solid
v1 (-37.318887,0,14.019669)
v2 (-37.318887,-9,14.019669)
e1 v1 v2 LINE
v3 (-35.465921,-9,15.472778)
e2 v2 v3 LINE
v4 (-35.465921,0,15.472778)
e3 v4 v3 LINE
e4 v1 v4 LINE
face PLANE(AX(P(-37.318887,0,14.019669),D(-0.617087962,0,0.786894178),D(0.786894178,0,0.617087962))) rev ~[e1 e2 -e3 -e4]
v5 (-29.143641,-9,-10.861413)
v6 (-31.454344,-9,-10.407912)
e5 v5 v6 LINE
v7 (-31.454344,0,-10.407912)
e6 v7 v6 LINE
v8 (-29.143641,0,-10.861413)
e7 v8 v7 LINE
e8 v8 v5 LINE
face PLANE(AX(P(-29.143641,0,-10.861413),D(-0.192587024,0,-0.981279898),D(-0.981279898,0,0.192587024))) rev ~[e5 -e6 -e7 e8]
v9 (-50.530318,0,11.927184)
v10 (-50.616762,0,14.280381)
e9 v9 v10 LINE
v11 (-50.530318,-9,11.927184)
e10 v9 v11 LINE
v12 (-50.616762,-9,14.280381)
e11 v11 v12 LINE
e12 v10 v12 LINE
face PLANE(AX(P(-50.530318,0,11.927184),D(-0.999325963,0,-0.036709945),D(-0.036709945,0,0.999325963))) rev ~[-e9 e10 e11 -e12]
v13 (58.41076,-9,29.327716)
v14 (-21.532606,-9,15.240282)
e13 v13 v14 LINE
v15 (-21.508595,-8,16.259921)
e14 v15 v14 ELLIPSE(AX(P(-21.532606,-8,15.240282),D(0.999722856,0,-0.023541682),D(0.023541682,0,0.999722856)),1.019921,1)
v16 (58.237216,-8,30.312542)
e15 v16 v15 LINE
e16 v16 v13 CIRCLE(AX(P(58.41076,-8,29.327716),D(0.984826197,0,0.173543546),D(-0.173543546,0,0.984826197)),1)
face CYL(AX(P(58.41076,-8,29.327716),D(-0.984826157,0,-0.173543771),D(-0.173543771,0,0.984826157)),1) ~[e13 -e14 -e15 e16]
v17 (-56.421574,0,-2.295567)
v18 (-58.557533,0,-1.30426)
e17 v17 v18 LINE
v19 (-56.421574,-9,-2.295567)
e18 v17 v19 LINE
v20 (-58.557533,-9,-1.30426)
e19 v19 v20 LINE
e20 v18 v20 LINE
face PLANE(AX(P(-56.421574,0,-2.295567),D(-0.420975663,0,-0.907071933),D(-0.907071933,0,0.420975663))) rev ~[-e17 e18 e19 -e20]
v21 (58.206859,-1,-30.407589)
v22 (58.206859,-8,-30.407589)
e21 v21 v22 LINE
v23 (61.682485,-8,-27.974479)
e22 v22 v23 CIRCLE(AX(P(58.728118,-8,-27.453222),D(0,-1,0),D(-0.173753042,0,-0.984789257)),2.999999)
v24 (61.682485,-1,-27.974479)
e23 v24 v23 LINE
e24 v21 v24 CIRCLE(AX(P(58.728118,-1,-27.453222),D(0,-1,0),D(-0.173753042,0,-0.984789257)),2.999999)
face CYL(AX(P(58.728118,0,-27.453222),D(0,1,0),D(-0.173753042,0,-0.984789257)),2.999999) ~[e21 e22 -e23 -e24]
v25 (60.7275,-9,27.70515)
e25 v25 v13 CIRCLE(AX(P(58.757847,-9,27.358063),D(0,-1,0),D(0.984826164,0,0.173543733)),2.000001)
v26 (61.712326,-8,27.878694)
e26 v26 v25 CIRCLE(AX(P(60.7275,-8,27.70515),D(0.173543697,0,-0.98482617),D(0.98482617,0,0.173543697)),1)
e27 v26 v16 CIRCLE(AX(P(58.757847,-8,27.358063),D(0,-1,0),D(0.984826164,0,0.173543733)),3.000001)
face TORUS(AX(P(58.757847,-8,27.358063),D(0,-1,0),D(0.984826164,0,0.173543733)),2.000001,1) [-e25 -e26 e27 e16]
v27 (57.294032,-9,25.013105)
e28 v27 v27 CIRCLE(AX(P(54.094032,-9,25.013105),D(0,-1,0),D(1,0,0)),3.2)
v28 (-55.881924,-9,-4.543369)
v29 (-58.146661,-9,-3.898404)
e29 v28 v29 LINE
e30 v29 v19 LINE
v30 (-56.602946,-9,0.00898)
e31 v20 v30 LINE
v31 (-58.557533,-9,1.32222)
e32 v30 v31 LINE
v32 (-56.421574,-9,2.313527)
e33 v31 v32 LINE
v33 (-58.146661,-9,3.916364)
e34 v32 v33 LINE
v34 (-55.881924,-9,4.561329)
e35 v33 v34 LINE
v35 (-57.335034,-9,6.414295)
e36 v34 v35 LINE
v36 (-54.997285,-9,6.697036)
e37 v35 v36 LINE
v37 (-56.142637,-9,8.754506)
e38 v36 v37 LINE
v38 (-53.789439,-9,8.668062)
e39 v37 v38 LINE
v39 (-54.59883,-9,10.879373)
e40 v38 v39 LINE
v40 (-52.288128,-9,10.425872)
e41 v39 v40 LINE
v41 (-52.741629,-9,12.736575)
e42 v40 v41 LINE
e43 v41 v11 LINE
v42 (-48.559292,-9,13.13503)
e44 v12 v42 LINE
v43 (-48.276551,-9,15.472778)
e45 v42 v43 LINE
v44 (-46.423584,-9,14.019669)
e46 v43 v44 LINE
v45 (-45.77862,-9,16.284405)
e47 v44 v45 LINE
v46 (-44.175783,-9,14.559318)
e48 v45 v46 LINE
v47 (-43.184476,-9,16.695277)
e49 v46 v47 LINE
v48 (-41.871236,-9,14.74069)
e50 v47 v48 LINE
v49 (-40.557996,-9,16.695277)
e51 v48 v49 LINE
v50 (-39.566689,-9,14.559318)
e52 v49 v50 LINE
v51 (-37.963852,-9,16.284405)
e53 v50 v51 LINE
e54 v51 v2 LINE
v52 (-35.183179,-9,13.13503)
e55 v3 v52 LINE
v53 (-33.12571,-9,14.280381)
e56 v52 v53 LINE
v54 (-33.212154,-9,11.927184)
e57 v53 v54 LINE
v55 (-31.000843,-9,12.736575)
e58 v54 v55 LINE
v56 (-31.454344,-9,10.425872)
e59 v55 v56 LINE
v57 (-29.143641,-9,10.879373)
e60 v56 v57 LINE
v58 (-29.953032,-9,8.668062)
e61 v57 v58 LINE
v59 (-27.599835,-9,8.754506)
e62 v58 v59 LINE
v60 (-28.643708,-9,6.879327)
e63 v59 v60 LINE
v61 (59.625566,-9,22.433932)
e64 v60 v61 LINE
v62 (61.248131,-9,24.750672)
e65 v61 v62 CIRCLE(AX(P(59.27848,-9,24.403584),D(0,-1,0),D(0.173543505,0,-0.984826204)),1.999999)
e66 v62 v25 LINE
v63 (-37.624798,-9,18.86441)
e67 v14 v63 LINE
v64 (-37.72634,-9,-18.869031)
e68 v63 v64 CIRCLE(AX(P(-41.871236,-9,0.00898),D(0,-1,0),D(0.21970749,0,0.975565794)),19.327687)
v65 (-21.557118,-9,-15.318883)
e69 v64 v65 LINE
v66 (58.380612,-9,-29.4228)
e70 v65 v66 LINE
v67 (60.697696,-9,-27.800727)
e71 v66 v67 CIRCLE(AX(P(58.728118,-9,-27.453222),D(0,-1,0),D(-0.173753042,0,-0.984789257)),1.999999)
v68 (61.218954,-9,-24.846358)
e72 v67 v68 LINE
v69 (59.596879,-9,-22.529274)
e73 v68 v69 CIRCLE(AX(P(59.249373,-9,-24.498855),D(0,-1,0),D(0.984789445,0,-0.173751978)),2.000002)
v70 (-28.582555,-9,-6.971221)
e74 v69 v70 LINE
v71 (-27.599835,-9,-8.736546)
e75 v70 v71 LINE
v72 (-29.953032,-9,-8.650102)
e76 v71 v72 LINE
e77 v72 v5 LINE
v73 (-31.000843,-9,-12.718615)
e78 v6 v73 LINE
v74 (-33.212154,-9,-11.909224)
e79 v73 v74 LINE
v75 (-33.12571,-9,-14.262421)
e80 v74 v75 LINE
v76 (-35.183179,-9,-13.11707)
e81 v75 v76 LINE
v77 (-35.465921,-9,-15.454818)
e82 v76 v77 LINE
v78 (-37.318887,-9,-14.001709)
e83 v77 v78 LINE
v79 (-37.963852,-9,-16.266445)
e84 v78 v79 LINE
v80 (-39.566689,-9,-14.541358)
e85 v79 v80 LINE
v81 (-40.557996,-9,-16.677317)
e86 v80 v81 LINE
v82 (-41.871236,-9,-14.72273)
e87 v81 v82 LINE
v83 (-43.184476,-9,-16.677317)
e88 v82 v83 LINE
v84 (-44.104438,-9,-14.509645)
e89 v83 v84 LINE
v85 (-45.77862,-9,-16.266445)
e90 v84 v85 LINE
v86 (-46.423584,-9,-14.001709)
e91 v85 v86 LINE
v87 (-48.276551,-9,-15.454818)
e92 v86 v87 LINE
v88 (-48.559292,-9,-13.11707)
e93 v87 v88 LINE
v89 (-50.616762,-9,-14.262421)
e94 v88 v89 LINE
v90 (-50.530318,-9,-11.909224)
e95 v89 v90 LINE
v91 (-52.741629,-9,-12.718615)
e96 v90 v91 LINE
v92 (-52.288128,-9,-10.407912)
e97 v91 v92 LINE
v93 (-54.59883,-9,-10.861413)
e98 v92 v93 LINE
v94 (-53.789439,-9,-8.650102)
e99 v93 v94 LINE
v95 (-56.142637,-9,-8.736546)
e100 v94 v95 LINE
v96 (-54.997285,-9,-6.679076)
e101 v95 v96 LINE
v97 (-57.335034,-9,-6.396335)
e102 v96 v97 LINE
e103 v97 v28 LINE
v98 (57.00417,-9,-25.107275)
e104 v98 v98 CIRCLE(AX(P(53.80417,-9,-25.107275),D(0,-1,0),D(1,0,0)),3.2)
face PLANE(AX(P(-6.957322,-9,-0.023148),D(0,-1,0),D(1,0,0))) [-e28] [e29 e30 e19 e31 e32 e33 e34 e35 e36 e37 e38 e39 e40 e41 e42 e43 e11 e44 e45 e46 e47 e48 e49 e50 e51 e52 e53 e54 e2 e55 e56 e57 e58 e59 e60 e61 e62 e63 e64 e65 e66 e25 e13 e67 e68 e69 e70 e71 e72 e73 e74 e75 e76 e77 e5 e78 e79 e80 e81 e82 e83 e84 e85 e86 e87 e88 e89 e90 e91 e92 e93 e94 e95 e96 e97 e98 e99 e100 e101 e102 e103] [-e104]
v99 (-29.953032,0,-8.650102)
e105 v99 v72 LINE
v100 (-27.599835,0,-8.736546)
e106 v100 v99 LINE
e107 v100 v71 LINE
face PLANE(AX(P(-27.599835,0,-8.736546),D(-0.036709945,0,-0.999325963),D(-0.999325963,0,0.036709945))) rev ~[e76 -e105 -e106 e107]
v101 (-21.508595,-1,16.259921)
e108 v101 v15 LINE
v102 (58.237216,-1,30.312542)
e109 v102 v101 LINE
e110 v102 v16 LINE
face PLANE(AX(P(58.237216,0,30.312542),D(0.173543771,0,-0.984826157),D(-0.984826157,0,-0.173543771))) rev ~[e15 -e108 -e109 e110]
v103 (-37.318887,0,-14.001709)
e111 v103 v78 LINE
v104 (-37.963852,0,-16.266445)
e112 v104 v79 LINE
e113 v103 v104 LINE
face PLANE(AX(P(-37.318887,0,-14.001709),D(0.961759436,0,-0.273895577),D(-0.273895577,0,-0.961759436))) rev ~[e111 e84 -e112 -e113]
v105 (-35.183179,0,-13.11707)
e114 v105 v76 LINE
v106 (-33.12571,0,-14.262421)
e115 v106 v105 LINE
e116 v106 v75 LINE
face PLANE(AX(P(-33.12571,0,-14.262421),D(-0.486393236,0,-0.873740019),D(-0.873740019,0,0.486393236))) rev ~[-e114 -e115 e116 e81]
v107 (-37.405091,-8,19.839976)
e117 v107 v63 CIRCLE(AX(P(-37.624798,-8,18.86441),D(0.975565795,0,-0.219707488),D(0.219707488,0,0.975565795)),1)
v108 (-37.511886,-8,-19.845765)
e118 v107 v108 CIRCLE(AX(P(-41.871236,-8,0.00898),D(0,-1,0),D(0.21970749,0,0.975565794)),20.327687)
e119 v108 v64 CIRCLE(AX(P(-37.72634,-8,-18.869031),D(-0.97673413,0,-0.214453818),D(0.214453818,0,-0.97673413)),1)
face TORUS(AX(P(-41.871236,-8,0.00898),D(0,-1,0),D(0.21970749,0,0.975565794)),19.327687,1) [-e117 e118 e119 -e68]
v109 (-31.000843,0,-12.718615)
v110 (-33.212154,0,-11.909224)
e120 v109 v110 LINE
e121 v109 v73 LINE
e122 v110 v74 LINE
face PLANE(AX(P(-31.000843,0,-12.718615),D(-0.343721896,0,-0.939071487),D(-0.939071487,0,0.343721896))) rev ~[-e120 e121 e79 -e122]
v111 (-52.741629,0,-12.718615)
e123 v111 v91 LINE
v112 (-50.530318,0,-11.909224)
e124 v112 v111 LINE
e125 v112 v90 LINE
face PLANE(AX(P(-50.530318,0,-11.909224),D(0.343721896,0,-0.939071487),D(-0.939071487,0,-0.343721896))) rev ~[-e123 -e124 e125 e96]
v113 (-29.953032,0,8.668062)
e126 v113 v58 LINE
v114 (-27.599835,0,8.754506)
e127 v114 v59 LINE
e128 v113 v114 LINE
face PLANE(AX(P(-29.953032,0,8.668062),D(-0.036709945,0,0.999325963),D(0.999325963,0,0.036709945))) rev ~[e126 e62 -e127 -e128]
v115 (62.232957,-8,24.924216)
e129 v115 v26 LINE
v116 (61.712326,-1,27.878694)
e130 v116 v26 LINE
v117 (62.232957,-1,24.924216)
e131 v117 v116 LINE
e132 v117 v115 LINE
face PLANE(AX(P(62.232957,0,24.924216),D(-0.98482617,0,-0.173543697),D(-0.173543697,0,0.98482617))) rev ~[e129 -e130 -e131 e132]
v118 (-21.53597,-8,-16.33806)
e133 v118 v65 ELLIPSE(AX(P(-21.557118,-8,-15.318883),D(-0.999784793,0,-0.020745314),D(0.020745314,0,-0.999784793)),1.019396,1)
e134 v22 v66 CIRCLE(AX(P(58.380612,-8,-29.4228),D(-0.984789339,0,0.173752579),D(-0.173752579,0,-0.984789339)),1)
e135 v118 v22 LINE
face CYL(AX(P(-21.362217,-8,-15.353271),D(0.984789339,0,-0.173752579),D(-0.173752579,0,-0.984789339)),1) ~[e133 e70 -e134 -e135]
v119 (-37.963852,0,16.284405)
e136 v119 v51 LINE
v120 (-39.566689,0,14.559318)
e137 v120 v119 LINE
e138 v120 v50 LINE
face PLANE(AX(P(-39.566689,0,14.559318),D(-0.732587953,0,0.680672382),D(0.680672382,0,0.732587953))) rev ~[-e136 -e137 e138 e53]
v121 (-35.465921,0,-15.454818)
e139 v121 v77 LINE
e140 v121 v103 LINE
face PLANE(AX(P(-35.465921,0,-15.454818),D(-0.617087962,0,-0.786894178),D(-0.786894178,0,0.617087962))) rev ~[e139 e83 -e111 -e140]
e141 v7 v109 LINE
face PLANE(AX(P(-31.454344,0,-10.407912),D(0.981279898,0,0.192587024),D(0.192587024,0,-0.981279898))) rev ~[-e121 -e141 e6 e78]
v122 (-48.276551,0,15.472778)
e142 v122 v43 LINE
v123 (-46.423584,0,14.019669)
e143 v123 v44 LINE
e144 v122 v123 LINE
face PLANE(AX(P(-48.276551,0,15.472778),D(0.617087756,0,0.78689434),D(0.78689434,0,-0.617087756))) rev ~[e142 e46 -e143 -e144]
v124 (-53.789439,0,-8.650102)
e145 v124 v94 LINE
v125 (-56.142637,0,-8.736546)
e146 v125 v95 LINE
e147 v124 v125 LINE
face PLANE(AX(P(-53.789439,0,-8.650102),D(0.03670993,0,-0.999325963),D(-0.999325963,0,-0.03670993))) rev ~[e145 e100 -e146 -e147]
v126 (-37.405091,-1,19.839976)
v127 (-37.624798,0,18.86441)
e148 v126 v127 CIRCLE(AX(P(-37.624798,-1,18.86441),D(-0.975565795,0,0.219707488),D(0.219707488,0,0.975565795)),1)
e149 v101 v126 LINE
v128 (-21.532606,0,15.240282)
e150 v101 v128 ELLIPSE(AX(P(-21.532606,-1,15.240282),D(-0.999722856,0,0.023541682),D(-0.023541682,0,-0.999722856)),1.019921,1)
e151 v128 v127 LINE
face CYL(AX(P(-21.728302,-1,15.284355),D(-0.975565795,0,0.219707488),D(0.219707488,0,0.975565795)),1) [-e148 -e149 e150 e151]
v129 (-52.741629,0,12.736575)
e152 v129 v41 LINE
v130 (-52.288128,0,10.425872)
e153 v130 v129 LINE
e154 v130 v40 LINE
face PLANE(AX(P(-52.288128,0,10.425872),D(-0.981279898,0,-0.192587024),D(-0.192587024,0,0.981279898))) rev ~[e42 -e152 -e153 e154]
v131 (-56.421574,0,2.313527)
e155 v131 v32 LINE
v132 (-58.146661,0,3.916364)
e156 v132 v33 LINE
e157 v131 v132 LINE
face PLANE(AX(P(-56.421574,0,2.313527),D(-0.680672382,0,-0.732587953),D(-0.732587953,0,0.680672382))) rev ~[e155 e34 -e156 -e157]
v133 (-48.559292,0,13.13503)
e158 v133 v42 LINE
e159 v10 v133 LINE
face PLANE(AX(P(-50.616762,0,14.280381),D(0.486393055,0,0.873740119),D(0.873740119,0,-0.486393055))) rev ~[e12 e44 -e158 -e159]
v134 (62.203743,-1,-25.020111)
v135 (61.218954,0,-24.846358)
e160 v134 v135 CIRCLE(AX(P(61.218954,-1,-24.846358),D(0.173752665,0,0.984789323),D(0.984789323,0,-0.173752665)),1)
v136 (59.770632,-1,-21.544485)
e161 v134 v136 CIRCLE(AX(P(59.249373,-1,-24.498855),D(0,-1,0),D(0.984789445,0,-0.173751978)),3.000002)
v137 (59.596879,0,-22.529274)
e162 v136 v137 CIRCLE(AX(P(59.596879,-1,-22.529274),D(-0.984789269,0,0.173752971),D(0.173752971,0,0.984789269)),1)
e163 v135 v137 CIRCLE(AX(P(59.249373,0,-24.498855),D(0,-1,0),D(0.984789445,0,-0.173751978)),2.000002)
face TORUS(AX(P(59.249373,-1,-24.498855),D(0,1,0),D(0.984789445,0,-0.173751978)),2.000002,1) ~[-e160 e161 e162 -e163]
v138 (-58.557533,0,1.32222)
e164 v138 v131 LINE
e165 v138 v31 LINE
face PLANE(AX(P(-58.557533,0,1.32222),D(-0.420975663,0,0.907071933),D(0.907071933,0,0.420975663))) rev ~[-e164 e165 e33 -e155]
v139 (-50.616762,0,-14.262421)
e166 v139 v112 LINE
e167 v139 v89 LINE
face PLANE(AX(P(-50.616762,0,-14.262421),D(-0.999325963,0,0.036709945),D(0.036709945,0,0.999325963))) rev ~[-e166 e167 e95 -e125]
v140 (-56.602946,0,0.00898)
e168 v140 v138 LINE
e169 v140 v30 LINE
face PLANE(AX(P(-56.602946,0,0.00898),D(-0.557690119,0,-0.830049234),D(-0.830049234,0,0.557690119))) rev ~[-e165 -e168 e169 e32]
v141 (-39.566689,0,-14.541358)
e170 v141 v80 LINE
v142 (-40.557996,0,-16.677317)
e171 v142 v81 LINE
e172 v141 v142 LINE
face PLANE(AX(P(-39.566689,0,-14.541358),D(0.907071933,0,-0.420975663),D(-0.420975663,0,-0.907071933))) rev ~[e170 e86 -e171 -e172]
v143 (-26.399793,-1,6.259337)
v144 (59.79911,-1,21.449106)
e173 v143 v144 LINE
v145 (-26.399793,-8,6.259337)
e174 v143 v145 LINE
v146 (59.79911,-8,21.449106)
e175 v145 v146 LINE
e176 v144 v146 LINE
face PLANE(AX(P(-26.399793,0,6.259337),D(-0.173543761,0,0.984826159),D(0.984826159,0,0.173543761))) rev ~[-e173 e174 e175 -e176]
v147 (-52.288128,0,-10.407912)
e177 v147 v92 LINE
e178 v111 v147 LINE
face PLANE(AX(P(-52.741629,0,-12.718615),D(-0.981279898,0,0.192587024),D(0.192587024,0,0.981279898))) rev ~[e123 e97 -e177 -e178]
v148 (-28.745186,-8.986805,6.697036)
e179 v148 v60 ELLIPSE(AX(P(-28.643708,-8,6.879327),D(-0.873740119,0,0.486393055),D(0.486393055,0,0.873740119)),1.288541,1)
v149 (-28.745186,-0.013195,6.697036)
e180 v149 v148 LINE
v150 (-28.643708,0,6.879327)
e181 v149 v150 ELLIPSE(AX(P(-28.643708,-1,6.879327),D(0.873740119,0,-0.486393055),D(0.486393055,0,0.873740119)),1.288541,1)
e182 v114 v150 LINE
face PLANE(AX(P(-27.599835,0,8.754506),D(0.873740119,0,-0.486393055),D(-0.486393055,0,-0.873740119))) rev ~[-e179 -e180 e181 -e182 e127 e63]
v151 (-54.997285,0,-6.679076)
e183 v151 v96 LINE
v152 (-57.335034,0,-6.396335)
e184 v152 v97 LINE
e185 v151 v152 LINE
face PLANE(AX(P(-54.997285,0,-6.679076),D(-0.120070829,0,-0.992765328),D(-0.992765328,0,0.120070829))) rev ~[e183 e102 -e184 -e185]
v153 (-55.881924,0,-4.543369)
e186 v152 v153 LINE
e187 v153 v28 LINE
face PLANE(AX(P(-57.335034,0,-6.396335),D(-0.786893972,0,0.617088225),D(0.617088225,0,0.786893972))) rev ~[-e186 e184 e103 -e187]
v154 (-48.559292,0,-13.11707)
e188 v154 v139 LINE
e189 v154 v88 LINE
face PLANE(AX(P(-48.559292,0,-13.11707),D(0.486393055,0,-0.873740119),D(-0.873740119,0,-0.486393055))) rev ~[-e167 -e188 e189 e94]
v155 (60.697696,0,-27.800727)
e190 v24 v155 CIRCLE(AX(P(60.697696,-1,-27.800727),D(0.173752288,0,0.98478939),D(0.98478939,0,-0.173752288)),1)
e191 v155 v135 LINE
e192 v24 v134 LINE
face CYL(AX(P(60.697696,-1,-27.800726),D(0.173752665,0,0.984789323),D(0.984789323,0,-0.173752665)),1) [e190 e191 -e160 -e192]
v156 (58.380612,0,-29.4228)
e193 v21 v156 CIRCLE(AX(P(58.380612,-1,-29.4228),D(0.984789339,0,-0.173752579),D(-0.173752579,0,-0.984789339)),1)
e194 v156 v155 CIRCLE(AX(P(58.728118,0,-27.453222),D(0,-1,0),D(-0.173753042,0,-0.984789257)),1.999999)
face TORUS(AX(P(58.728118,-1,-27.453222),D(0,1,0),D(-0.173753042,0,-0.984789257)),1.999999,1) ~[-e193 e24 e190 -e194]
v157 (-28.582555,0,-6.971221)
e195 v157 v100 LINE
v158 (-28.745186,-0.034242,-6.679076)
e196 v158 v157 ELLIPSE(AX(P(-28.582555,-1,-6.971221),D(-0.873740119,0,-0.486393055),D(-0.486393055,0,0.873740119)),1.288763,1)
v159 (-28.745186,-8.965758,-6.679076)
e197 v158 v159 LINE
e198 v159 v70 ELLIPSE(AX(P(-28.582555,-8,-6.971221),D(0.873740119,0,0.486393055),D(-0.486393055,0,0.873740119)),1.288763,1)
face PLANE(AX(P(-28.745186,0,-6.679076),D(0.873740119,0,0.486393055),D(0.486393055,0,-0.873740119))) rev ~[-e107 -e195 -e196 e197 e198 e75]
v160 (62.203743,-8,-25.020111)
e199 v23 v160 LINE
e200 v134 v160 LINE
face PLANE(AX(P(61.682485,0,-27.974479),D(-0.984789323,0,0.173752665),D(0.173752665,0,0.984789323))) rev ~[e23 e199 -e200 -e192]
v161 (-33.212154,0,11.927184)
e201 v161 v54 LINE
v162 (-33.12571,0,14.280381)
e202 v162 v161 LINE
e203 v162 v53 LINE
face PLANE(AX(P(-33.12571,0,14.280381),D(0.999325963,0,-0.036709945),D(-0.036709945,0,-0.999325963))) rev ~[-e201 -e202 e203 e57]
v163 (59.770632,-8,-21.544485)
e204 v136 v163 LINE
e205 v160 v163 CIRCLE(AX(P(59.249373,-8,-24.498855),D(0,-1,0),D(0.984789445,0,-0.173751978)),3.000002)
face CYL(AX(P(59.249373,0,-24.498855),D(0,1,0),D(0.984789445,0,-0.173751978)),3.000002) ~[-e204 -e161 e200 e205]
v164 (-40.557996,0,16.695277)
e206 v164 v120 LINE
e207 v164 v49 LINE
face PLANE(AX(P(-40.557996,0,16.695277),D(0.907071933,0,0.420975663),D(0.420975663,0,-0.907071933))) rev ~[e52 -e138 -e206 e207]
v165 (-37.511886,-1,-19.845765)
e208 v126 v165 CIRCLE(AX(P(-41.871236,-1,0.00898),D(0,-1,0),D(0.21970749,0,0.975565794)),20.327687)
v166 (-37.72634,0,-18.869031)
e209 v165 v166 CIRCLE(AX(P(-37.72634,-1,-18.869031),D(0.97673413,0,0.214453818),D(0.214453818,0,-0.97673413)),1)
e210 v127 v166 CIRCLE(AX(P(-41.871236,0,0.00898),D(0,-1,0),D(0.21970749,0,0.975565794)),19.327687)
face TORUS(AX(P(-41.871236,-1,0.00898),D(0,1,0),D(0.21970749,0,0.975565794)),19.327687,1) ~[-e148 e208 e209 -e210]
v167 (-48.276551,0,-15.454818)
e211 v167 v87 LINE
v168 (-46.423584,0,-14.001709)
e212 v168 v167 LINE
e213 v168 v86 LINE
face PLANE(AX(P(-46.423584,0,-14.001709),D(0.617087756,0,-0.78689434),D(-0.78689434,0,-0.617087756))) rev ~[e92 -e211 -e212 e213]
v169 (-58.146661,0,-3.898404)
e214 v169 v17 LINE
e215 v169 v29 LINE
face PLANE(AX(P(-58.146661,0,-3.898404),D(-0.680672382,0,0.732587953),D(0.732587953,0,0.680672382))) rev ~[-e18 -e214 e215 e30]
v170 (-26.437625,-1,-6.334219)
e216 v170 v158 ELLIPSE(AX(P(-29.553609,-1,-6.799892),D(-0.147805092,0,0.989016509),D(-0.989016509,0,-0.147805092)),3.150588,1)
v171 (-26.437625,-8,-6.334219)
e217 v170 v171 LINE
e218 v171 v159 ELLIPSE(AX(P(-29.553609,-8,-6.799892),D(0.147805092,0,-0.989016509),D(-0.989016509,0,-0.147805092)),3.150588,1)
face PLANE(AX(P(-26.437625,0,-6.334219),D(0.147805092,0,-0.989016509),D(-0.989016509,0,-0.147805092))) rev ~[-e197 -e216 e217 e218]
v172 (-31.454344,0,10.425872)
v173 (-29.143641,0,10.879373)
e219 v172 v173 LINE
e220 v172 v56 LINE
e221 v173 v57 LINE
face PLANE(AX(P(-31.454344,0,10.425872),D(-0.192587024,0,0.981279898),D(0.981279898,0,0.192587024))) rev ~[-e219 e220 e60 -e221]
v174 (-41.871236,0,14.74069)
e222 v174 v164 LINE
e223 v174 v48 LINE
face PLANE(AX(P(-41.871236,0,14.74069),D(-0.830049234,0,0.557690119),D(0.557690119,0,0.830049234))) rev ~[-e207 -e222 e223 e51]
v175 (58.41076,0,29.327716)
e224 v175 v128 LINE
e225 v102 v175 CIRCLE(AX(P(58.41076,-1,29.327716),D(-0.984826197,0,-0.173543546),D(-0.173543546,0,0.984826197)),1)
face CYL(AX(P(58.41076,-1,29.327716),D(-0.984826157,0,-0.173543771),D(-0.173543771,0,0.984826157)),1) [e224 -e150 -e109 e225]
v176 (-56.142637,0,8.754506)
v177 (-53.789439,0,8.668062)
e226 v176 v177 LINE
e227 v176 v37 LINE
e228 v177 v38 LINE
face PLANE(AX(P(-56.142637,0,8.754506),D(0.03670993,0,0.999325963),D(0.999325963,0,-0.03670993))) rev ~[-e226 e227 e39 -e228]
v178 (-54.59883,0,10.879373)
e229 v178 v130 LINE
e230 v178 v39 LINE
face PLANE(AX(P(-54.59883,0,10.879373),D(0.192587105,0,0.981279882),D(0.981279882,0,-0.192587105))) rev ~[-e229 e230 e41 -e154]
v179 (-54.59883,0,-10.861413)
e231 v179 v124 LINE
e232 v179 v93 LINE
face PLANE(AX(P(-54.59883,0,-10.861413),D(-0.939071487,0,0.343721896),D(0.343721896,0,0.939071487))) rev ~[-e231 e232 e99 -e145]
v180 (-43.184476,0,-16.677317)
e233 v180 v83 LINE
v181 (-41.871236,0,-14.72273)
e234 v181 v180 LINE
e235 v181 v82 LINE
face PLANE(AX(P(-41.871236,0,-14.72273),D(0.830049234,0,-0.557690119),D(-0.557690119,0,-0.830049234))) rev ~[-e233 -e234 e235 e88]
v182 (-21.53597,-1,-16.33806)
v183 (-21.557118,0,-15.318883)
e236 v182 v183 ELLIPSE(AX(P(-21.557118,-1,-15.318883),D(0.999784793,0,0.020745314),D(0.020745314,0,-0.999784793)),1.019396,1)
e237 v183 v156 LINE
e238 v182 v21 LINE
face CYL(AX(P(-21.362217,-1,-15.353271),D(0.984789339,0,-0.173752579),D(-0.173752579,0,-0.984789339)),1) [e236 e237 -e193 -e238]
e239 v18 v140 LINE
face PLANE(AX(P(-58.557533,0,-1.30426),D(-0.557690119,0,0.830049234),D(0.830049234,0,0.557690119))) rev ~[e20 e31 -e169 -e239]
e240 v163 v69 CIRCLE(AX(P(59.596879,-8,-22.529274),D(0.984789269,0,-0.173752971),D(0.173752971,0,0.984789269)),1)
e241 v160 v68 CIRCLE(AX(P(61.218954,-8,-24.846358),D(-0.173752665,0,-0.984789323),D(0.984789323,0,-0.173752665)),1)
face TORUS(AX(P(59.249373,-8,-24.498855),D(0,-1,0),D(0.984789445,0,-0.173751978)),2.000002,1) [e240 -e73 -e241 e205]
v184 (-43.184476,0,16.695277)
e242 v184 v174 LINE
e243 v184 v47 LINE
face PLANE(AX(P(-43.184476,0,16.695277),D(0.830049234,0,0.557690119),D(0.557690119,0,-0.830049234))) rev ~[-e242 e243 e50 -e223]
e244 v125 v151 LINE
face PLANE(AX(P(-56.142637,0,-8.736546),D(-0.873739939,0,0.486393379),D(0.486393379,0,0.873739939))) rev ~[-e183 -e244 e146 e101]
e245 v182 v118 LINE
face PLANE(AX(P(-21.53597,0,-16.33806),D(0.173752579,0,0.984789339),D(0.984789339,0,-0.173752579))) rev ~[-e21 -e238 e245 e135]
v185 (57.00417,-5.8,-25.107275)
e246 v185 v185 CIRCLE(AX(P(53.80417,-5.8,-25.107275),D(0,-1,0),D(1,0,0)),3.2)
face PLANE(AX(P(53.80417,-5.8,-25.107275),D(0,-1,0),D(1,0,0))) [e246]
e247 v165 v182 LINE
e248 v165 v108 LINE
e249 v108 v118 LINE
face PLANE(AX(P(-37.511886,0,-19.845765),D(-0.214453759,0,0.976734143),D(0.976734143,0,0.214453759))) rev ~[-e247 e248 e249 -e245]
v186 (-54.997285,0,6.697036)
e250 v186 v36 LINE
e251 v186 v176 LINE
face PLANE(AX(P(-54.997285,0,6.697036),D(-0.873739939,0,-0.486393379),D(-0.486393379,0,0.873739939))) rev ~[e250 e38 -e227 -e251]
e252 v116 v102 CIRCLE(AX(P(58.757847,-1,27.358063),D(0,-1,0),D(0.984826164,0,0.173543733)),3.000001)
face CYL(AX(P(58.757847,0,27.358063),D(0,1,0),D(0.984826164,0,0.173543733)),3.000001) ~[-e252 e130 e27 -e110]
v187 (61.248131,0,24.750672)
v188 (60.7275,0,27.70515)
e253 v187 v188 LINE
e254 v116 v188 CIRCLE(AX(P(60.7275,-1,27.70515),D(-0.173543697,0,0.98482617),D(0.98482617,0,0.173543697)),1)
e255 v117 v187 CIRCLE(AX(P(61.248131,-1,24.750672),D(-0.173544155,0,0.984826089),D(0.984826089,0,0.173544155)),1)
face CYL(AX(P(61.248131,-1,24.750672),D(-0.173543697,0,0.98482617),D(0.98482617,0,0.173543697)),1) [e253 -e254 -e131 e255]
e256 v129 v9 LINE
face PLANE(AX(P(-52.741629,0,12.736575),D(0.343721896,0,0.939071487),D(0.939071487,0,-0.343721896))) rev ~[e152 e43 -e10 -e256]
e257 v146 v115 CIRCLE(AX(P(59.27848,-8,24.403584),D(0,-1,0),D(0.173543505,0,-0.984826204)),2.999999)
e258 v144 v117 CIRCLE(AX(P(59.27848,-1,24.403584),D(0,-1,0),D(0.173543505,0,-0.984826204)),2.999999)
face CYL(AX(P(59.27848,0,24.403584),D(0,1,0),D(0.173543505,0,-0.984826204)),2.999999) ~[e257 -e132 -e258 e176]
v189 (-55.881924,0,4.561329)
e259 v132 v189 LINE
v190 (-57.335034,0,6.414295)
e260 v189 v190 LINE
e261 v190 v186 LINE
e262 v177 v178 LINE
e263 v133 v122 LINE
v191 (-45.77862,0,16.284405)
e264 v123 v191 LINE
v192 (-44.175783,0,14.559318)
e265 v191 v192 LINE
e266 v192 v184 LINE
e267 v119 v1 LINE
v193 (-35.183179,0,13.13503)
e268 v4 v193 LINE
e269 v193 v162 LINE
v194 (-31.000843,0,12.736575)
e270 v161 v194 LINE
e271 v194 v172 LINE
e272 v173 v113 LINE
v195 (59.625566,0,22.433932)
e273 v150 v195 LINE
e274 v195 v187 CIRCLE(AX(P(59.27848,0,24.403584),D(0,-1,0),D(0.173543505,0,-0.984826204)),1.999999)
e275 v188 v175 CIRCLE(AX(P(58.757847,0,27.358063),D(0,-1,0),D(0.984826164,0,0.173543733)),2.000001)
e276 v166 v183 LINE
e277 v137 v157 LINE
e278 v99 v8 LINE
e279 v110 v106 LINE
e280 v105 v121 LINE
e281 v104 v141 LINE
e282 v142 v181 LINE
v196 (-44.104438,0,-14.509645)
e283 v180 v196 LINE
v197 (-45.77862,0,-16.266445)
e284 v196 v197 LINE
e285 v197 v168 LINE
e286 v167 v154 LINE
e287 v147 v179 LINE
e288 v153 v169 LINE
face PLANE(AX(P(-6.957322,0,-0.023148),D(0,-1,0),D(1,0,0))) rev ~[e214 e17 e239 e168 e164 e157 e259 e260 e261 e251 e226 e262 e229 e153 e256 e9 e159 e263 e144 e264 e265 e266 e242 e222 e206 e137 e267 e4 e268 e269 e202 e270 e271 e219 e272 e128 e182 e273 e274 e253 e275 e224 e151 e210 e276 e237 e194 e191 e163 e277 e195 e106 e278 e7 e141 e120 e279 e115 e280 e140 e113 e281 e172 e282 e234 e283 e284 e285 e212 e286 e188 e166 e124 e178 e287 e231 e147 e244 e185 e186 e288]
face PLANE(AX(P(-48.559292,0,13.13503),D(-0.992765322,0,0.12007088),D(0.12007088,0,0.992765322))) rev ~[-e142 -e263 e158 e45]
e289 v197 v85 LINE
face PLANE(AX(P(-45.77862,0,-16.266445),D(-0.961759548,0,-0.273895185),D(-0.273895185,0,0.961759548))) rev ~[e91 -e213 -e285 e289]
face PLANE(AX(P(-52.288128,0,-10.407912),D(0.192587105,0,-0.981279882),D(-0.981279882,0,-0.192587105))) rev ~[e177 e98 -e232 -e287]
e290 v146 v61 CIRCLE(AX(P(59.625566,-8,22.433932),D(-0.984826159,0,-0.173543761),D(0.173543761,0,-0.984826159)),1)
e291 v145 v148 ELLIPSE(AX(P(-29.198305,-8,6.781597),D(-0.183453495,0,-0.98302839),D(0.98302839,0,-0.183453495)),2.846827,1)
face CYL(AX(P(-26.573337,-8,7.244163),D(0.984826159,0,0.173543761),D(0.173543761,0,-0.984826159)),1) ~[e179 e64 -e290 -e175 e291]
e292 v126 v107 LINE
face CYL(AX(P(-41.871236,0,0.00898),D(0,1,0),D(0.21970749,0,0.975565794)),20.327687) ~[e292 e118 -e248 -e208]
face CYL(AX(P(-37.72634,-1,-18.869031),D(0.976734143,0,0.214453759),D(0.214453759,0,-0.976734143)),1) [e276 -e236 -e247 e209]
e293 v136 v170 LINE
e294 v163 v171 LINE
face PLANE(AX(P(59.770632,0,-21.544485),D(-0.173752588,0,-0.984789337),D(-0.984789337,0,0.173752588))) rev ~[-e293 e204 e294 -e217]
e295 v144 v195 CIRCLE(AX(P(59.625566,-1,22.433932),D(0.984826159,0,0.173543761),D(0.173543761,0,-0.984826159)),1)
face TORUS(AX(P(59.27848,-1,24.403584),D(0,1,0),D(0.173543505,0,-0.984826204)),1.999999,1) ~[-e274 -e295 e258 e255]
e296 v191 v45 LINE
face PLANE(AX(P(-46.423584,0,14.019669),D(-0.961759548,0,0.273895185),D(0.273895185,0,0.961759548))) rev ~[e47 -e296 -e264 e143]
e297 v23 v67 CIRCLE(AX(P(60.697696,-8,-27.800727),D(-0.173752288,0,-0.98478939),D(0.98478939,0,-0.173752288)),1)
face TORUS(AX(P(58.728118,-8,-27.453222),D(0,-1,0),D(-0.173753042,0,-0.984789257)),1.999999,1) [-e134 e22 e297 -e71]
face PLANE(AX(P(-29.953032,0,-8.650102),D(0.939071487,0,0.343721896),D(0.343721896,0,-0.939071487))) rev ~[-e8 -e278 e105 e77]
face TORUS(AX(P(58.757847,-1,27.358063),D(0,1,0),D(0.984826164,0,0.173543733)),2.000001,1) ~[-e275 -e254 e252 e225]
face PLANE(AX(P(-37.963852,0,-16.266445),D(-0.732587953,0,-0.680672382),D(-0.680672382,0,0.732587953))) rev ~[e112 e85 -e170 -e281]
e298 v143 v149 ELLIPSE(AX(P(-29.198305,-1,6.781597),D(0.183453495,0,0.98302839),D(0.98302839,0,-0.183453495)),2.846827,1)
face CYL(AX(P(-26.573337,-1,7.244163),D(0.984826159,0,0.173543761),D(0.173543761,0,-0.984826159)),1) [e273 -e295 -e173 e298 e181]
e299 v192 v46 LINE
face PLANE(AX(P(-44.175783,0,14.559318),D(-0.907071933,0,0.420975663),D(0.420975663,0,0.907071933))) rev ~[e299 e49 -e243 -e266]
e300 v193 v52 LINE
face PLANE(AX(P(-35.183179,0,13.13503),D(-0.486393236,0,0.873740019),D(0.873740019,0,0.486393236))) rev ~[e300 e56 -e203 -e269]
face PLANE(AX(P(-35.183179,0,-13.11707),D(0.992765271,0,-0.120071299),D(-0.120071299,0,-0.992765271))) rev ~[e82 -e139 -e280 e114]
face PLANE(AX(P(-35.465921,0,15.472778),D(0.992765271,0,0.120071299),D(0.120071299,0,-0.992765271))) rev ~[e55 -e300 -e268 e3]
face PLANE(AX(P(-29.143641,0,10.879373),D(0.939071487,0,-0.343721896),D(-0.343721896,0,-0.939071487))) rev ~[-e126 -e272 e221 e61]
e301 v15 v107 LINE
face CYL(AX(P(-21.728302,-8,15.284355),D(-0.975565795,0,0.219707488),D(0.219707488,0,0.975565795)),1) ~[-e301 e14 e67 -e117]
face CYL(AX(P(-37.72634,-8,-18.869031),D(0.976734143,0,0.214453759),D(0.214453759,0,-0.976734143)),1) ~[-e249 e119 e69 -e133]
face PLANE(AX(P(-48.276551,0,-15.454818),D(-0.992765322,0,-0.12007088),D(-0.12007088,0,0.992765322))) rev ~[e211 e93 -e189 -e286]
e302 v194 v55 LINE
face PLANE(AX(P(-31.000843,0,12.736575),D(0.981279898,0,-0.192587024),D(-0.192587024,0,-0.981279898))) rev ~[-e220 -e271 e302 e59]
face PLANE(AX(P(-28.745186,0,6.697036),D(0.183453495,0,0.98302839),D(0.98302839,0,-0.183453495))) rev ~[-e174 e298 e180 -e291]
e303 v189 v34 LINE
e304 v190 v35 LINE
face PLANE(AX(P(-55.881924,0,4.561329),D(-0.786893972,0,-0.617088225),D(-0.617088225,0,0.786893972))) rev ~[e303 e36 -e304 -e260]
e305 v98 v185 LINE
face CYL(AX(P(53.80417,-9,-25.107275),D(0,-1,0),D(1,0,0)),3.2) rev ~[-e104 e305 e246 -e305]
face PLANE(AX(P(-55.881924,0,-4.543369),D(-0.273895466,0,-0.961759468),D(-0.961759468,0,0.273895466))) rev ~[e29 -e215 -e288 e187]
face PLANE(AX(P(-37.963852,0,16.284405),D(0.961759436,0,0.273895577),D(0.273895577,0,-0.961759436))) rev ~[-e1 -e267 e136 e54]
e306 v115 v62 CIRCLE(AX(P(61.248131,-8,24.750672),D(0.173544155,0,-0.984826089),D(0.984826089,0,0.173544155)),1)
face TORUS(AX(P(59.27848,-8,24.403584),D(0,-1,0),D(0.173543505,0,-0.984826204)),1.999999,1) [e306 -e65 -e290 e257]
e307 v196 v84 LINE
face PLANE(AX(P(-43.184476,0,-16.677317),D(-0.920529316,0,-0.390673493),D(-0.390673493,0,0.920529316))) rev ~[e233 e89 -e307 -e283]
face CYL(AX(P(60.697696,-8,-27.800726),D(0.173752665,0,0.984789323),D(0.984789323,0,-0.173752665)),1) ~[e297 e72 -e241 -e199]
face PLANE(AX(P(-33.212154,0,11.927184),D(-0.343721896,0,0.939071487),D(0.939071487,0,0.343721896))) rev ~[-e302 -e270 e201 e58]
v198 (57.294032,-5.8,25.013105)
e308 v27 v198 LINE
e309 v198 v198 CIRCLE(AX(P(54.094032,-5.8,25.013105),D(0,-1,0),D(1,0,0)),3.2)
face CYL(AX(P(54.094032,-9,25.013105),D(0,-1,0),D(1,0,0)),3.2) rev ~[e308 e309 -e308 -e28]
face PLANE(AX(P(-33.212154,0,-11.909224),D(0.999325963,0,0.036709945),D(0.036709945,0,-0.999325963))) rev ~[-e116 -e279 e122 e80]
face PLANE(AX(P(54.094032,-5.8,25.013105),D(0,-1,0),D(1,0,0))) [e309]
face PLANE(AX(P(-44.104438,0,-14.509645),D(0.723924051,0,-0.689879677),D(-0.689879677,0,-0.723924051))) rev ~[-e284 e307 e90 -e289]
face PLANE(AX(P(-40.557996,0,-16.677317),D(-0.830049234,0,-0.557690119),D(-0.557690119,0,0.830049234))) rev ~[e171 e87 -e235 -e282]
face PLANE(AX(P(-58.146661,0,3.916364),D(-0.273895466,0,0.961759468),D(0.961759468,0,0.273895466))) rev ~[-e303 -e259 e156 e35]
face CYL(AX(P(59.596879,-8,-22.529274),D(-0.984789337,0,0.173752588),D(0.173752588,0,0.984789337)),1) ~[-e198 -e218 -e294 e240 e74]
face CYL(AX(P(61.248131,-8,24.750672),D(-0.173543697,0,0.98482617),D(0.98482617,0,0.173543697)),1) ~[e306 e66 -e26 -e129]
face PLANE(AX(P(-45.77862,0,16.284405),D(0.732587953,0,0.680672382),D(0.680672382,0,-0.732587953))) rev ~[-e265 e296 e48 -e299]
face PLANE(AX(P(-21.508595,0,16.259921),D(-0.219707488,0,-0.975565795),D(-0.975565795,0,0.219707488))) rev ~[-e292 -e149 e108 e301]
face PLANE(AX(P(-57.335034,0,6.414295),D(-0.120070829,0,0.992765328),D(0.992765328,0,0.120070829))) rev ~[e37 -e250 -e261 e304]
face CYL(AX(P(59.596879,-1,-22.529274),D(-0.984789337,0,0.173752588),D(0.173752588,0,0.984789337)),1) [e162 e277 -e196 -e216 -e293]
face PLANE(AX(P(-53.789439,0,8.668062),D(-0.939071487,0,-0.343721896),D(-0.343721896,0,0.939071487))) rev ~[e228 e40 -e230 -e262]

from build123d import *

# Parameters (mm, degrees)
F1_DEPTH = 9
F2_R     = 1
F3_R     = 3.2
F4_DEPTH = 3.2


with BuildPart() as f1:
    # F0 (on Front) → F1 (new body)
    with BuildSketch(Plane.XZ):
        with BuildLine():
            Line((58.237216, 30.312542), (-21.508595, 16.259921))
            Line((-21.508595, 16.259921), (-37.405091, 19.839976))
            ThreePointArc((-37.405091, 19.839976), (-62.198849, 0.063682), (-37.511886, -19.845765))
            Line((-37.511886, -19.845765), (-21.53597, -16.33806))
            Line((-21.53597, -16.33806), (58.206859, -30.407589))
            ThreePointArc((58.206859, -30.407589), (60.448586, -29.91086), (61.682485, -27.974479))
            Line((61.682485, -27.974479), (62.203743, -25.020111))
            ThreePointArc((62.203743, -25.020111), (61.707013, -22.778385), (59.770632, -21.544485))
            Line((59.770632, -21.544485), (-26.437625, -6.334219))
            Line((-26.437625, -6.334219), (-28.745186, -6.679076))
            Line((-28.745186, -6.679076), (-27.599835, -8.736546))
            Line((-27.599835, -8.736546), (-29.953032, -8.650102))
            Line((-29.953032, -8.650102), (-29.143641, -10.861413))
            Line((-29.143641, -10.861413), (-31.454344, -10.407912))
            Line((-31.454344, -10.407912), (-31.000843, -12.718615))
            Line((-31.000843, -12.718615), (-33.212154, -11.909224))
            Line((-33.212154, -11.909224), (-33.12571, -14.262421))
            Line((-33.12571, -14.262421), (-35.183179, -13.11707))
            Line((-35.183179, -13.11707), (-35.465921, -15.454818))
            Line((-35.465921, -15.454818), (-37.318887, -14.001709))
            Line((-37.318887, -14.001709), (-37.963852, -16.266445))
            Line((-37.963852, -16.266445), (-39.566689, -14.541358))
            Line((-39.566689, -14.541358), (-40.557996, -16.677317))
            Line((-40.557996, -16.677317), (-41.871236, -14.72273))
            Line((-41.871236, -14.72273), (-43.184476, -16.677317))
            Line((-43.184476, -16.677317), (-44.104438, -14.509645))
            Line((-44.104438, -14.509645), (-45.77862, -16.266445))
            Line((-45.77862, -16.266445), (-46.423584, -14.001709))
            Line((-46.423584, -14.001709), (-48.276551, -15.454818))
            Line((-48.276551, -15.454818), (-48.559292, -13.11707))
            Line((-48.559292, -13.11707), (-50.616762, -14.262421))
            Line((-50.616762, -14.262421), (-50.530318, -11.909224))
            Line((-50.530318, -11.909224), (-52.741629, -12.718615))
            Line((-52.741629, -12.718615), (-52.288128, -10.407912))
            Line((-52.288128, -10.407912), (-54.59883, -10.861413))
            Line((-54.59883, -10.861413), (-53.789439, -8.650102))
            Line((-53.789439, -8.650102), (-56.142637, -8.736546))
            Line((-56.142637, -8.736546), (-54.997285, -6.679076))
            Line((-54.997285, -6.679076), (-57.335034, -6.396335))
            Line((-57.335034, -6.396335), (-55.881924, -4.543369))
            Line((-55.881924, -4.543369), (-58.146661, -3.898404))
            Line((-58.146661, -3.898404), (-56.421574, -2.295567))
            Line((-56.421574, -2.295567), (-58.557533, -1.30426))
            Line((-58.557533, -1.30426), (-56.602946, 0.00898))
            Line((-56.602946, 0.00898), (-58.557533, 1.32222))
            Line((-58.557533, 1.32222), (-56.421574, 2.313527))
            Line((-56.421574, 2.313527), (-58.146661, 3.916364))
            Line((-58.146661, 3.916364), (-55.881924, 4.561329))
            Line((-55.881924, 4.561329), (-57.335034, 6.414295))
            Line((-57.335034, 6.414295), (-54.997285, 6.697036))
            Line((-54.997285, 6.697036), (-56.142637, 8.754506))
            Line((-56.142637, 8.754506), (-53.789439, 8.668062))
            Line((-53.789439, 8.668062), (-54.59883, 10.879373))
            Line((-54.59883, 10.879373), (-52.288128, 10.425872))
            Line((-52.288128, 10.425872), (-52.741629, 12.736575))
            Line((-52.741629, 12.736575), (-50.530318, 11.927184))
            Line((-50.530318, 11.927184), (-50.616762, 14.280381))
            Line((-50.616762, 14.280381), (-48.559292, 13.13503))
            Line((-48.559292, 13.13503), (-48.276551, 15.472778))
            Line((-48.276551, 15.472778), (-46.423584, 14.019669))
            Line((-46.423584, 14.019669), (-45.77862, 16.284405))
            Line((-45.77862, 16.284405), (-44.175783, 14.559318))
            Line((-44.175783, 14.559318), (-43.184476, 16.695277))
            Line((-43.184476, 16.695277), (-41.871236, 14.74069))
            Line((-41.871236, 14.74069), (-40.557996, 16.695277))
            Line((-40.557996, 16.695277), (-39.566689, 14.559318))
            Line((-39.566689, 14.559318), (-37.963852, 16.284405))
            Line((-37.963852, 16.284405), (-37.318887, 14.019669))
            Line((-37.318887, 14.019669), (-35.465921, 15.472778))
            Line((-35.465921, 15.472778), (-35.183179, 13.13503))
            Line((-35.183179, 13.13503), (-33.12571, 14.280381))
            Line((-33.12571, 14.280381), (-33.212154, 11.927184))
            Line((-33.212154, 11.927184), (-31.000843, 12.736575))
            Line((-31.000843, 12.736575), (-31.454344, 10.425872))
            Line((-31.454344, 10.425872), (-29.143641, 10.879373))
            Line((-29.143641, 10.879373), (-29.953032, 8.668062))
            Line((-29.953032, 8.668062), (-27.599835, 8.754506))
            Line((-27.599835, 8.754506), (-28.745186, 6.697036))
            Line((-28.745186, 6.697036), (-26.399793, 6.259337))
            Line((-26.399793, 6.259337), (59.79911, 21.449106))
            ThreePointArc((59.79911, 21.449106), (61.735753, 22.682595), (62.232957, 24.924216))
            Line((62.232957, 24.924216), (61.712326, 27.878694))
            ThreePointArc((61.712326, 27.878694), (60.478837, 29.815337), (58.237216, 30.312542))
        make_face()
    extrude(amount=F1_DEPTH)

    # F2
    f2_edges = [f1.edges().sort_by_distance(p)[0] for p in [
        (18.335444, -9, -23.372825),
        (-62.198849, -9, 0.063682),
        (18.364311, -9, 23.286231),
        (18.335444, 0, -23.372825),
        (18.364311, 0, 23.286231),
        (-62.198849, 0, 0.063682),
    ]]
    fillet(f2_edges, radius=F2_R)

    # F3 (on face) → F4 (cut)
    with BuildSketch(Plane.XZ.offset(9)):
        with Locations((54.094032, 25.013105)):
            Circle(F3_R)
        with Locations((53.80417, -25.107275)):
            Circle(F3_R)
    extrude(amount=-F4_DEPTH, mode=Mode.SUBTRACT)


solid = f1.part
